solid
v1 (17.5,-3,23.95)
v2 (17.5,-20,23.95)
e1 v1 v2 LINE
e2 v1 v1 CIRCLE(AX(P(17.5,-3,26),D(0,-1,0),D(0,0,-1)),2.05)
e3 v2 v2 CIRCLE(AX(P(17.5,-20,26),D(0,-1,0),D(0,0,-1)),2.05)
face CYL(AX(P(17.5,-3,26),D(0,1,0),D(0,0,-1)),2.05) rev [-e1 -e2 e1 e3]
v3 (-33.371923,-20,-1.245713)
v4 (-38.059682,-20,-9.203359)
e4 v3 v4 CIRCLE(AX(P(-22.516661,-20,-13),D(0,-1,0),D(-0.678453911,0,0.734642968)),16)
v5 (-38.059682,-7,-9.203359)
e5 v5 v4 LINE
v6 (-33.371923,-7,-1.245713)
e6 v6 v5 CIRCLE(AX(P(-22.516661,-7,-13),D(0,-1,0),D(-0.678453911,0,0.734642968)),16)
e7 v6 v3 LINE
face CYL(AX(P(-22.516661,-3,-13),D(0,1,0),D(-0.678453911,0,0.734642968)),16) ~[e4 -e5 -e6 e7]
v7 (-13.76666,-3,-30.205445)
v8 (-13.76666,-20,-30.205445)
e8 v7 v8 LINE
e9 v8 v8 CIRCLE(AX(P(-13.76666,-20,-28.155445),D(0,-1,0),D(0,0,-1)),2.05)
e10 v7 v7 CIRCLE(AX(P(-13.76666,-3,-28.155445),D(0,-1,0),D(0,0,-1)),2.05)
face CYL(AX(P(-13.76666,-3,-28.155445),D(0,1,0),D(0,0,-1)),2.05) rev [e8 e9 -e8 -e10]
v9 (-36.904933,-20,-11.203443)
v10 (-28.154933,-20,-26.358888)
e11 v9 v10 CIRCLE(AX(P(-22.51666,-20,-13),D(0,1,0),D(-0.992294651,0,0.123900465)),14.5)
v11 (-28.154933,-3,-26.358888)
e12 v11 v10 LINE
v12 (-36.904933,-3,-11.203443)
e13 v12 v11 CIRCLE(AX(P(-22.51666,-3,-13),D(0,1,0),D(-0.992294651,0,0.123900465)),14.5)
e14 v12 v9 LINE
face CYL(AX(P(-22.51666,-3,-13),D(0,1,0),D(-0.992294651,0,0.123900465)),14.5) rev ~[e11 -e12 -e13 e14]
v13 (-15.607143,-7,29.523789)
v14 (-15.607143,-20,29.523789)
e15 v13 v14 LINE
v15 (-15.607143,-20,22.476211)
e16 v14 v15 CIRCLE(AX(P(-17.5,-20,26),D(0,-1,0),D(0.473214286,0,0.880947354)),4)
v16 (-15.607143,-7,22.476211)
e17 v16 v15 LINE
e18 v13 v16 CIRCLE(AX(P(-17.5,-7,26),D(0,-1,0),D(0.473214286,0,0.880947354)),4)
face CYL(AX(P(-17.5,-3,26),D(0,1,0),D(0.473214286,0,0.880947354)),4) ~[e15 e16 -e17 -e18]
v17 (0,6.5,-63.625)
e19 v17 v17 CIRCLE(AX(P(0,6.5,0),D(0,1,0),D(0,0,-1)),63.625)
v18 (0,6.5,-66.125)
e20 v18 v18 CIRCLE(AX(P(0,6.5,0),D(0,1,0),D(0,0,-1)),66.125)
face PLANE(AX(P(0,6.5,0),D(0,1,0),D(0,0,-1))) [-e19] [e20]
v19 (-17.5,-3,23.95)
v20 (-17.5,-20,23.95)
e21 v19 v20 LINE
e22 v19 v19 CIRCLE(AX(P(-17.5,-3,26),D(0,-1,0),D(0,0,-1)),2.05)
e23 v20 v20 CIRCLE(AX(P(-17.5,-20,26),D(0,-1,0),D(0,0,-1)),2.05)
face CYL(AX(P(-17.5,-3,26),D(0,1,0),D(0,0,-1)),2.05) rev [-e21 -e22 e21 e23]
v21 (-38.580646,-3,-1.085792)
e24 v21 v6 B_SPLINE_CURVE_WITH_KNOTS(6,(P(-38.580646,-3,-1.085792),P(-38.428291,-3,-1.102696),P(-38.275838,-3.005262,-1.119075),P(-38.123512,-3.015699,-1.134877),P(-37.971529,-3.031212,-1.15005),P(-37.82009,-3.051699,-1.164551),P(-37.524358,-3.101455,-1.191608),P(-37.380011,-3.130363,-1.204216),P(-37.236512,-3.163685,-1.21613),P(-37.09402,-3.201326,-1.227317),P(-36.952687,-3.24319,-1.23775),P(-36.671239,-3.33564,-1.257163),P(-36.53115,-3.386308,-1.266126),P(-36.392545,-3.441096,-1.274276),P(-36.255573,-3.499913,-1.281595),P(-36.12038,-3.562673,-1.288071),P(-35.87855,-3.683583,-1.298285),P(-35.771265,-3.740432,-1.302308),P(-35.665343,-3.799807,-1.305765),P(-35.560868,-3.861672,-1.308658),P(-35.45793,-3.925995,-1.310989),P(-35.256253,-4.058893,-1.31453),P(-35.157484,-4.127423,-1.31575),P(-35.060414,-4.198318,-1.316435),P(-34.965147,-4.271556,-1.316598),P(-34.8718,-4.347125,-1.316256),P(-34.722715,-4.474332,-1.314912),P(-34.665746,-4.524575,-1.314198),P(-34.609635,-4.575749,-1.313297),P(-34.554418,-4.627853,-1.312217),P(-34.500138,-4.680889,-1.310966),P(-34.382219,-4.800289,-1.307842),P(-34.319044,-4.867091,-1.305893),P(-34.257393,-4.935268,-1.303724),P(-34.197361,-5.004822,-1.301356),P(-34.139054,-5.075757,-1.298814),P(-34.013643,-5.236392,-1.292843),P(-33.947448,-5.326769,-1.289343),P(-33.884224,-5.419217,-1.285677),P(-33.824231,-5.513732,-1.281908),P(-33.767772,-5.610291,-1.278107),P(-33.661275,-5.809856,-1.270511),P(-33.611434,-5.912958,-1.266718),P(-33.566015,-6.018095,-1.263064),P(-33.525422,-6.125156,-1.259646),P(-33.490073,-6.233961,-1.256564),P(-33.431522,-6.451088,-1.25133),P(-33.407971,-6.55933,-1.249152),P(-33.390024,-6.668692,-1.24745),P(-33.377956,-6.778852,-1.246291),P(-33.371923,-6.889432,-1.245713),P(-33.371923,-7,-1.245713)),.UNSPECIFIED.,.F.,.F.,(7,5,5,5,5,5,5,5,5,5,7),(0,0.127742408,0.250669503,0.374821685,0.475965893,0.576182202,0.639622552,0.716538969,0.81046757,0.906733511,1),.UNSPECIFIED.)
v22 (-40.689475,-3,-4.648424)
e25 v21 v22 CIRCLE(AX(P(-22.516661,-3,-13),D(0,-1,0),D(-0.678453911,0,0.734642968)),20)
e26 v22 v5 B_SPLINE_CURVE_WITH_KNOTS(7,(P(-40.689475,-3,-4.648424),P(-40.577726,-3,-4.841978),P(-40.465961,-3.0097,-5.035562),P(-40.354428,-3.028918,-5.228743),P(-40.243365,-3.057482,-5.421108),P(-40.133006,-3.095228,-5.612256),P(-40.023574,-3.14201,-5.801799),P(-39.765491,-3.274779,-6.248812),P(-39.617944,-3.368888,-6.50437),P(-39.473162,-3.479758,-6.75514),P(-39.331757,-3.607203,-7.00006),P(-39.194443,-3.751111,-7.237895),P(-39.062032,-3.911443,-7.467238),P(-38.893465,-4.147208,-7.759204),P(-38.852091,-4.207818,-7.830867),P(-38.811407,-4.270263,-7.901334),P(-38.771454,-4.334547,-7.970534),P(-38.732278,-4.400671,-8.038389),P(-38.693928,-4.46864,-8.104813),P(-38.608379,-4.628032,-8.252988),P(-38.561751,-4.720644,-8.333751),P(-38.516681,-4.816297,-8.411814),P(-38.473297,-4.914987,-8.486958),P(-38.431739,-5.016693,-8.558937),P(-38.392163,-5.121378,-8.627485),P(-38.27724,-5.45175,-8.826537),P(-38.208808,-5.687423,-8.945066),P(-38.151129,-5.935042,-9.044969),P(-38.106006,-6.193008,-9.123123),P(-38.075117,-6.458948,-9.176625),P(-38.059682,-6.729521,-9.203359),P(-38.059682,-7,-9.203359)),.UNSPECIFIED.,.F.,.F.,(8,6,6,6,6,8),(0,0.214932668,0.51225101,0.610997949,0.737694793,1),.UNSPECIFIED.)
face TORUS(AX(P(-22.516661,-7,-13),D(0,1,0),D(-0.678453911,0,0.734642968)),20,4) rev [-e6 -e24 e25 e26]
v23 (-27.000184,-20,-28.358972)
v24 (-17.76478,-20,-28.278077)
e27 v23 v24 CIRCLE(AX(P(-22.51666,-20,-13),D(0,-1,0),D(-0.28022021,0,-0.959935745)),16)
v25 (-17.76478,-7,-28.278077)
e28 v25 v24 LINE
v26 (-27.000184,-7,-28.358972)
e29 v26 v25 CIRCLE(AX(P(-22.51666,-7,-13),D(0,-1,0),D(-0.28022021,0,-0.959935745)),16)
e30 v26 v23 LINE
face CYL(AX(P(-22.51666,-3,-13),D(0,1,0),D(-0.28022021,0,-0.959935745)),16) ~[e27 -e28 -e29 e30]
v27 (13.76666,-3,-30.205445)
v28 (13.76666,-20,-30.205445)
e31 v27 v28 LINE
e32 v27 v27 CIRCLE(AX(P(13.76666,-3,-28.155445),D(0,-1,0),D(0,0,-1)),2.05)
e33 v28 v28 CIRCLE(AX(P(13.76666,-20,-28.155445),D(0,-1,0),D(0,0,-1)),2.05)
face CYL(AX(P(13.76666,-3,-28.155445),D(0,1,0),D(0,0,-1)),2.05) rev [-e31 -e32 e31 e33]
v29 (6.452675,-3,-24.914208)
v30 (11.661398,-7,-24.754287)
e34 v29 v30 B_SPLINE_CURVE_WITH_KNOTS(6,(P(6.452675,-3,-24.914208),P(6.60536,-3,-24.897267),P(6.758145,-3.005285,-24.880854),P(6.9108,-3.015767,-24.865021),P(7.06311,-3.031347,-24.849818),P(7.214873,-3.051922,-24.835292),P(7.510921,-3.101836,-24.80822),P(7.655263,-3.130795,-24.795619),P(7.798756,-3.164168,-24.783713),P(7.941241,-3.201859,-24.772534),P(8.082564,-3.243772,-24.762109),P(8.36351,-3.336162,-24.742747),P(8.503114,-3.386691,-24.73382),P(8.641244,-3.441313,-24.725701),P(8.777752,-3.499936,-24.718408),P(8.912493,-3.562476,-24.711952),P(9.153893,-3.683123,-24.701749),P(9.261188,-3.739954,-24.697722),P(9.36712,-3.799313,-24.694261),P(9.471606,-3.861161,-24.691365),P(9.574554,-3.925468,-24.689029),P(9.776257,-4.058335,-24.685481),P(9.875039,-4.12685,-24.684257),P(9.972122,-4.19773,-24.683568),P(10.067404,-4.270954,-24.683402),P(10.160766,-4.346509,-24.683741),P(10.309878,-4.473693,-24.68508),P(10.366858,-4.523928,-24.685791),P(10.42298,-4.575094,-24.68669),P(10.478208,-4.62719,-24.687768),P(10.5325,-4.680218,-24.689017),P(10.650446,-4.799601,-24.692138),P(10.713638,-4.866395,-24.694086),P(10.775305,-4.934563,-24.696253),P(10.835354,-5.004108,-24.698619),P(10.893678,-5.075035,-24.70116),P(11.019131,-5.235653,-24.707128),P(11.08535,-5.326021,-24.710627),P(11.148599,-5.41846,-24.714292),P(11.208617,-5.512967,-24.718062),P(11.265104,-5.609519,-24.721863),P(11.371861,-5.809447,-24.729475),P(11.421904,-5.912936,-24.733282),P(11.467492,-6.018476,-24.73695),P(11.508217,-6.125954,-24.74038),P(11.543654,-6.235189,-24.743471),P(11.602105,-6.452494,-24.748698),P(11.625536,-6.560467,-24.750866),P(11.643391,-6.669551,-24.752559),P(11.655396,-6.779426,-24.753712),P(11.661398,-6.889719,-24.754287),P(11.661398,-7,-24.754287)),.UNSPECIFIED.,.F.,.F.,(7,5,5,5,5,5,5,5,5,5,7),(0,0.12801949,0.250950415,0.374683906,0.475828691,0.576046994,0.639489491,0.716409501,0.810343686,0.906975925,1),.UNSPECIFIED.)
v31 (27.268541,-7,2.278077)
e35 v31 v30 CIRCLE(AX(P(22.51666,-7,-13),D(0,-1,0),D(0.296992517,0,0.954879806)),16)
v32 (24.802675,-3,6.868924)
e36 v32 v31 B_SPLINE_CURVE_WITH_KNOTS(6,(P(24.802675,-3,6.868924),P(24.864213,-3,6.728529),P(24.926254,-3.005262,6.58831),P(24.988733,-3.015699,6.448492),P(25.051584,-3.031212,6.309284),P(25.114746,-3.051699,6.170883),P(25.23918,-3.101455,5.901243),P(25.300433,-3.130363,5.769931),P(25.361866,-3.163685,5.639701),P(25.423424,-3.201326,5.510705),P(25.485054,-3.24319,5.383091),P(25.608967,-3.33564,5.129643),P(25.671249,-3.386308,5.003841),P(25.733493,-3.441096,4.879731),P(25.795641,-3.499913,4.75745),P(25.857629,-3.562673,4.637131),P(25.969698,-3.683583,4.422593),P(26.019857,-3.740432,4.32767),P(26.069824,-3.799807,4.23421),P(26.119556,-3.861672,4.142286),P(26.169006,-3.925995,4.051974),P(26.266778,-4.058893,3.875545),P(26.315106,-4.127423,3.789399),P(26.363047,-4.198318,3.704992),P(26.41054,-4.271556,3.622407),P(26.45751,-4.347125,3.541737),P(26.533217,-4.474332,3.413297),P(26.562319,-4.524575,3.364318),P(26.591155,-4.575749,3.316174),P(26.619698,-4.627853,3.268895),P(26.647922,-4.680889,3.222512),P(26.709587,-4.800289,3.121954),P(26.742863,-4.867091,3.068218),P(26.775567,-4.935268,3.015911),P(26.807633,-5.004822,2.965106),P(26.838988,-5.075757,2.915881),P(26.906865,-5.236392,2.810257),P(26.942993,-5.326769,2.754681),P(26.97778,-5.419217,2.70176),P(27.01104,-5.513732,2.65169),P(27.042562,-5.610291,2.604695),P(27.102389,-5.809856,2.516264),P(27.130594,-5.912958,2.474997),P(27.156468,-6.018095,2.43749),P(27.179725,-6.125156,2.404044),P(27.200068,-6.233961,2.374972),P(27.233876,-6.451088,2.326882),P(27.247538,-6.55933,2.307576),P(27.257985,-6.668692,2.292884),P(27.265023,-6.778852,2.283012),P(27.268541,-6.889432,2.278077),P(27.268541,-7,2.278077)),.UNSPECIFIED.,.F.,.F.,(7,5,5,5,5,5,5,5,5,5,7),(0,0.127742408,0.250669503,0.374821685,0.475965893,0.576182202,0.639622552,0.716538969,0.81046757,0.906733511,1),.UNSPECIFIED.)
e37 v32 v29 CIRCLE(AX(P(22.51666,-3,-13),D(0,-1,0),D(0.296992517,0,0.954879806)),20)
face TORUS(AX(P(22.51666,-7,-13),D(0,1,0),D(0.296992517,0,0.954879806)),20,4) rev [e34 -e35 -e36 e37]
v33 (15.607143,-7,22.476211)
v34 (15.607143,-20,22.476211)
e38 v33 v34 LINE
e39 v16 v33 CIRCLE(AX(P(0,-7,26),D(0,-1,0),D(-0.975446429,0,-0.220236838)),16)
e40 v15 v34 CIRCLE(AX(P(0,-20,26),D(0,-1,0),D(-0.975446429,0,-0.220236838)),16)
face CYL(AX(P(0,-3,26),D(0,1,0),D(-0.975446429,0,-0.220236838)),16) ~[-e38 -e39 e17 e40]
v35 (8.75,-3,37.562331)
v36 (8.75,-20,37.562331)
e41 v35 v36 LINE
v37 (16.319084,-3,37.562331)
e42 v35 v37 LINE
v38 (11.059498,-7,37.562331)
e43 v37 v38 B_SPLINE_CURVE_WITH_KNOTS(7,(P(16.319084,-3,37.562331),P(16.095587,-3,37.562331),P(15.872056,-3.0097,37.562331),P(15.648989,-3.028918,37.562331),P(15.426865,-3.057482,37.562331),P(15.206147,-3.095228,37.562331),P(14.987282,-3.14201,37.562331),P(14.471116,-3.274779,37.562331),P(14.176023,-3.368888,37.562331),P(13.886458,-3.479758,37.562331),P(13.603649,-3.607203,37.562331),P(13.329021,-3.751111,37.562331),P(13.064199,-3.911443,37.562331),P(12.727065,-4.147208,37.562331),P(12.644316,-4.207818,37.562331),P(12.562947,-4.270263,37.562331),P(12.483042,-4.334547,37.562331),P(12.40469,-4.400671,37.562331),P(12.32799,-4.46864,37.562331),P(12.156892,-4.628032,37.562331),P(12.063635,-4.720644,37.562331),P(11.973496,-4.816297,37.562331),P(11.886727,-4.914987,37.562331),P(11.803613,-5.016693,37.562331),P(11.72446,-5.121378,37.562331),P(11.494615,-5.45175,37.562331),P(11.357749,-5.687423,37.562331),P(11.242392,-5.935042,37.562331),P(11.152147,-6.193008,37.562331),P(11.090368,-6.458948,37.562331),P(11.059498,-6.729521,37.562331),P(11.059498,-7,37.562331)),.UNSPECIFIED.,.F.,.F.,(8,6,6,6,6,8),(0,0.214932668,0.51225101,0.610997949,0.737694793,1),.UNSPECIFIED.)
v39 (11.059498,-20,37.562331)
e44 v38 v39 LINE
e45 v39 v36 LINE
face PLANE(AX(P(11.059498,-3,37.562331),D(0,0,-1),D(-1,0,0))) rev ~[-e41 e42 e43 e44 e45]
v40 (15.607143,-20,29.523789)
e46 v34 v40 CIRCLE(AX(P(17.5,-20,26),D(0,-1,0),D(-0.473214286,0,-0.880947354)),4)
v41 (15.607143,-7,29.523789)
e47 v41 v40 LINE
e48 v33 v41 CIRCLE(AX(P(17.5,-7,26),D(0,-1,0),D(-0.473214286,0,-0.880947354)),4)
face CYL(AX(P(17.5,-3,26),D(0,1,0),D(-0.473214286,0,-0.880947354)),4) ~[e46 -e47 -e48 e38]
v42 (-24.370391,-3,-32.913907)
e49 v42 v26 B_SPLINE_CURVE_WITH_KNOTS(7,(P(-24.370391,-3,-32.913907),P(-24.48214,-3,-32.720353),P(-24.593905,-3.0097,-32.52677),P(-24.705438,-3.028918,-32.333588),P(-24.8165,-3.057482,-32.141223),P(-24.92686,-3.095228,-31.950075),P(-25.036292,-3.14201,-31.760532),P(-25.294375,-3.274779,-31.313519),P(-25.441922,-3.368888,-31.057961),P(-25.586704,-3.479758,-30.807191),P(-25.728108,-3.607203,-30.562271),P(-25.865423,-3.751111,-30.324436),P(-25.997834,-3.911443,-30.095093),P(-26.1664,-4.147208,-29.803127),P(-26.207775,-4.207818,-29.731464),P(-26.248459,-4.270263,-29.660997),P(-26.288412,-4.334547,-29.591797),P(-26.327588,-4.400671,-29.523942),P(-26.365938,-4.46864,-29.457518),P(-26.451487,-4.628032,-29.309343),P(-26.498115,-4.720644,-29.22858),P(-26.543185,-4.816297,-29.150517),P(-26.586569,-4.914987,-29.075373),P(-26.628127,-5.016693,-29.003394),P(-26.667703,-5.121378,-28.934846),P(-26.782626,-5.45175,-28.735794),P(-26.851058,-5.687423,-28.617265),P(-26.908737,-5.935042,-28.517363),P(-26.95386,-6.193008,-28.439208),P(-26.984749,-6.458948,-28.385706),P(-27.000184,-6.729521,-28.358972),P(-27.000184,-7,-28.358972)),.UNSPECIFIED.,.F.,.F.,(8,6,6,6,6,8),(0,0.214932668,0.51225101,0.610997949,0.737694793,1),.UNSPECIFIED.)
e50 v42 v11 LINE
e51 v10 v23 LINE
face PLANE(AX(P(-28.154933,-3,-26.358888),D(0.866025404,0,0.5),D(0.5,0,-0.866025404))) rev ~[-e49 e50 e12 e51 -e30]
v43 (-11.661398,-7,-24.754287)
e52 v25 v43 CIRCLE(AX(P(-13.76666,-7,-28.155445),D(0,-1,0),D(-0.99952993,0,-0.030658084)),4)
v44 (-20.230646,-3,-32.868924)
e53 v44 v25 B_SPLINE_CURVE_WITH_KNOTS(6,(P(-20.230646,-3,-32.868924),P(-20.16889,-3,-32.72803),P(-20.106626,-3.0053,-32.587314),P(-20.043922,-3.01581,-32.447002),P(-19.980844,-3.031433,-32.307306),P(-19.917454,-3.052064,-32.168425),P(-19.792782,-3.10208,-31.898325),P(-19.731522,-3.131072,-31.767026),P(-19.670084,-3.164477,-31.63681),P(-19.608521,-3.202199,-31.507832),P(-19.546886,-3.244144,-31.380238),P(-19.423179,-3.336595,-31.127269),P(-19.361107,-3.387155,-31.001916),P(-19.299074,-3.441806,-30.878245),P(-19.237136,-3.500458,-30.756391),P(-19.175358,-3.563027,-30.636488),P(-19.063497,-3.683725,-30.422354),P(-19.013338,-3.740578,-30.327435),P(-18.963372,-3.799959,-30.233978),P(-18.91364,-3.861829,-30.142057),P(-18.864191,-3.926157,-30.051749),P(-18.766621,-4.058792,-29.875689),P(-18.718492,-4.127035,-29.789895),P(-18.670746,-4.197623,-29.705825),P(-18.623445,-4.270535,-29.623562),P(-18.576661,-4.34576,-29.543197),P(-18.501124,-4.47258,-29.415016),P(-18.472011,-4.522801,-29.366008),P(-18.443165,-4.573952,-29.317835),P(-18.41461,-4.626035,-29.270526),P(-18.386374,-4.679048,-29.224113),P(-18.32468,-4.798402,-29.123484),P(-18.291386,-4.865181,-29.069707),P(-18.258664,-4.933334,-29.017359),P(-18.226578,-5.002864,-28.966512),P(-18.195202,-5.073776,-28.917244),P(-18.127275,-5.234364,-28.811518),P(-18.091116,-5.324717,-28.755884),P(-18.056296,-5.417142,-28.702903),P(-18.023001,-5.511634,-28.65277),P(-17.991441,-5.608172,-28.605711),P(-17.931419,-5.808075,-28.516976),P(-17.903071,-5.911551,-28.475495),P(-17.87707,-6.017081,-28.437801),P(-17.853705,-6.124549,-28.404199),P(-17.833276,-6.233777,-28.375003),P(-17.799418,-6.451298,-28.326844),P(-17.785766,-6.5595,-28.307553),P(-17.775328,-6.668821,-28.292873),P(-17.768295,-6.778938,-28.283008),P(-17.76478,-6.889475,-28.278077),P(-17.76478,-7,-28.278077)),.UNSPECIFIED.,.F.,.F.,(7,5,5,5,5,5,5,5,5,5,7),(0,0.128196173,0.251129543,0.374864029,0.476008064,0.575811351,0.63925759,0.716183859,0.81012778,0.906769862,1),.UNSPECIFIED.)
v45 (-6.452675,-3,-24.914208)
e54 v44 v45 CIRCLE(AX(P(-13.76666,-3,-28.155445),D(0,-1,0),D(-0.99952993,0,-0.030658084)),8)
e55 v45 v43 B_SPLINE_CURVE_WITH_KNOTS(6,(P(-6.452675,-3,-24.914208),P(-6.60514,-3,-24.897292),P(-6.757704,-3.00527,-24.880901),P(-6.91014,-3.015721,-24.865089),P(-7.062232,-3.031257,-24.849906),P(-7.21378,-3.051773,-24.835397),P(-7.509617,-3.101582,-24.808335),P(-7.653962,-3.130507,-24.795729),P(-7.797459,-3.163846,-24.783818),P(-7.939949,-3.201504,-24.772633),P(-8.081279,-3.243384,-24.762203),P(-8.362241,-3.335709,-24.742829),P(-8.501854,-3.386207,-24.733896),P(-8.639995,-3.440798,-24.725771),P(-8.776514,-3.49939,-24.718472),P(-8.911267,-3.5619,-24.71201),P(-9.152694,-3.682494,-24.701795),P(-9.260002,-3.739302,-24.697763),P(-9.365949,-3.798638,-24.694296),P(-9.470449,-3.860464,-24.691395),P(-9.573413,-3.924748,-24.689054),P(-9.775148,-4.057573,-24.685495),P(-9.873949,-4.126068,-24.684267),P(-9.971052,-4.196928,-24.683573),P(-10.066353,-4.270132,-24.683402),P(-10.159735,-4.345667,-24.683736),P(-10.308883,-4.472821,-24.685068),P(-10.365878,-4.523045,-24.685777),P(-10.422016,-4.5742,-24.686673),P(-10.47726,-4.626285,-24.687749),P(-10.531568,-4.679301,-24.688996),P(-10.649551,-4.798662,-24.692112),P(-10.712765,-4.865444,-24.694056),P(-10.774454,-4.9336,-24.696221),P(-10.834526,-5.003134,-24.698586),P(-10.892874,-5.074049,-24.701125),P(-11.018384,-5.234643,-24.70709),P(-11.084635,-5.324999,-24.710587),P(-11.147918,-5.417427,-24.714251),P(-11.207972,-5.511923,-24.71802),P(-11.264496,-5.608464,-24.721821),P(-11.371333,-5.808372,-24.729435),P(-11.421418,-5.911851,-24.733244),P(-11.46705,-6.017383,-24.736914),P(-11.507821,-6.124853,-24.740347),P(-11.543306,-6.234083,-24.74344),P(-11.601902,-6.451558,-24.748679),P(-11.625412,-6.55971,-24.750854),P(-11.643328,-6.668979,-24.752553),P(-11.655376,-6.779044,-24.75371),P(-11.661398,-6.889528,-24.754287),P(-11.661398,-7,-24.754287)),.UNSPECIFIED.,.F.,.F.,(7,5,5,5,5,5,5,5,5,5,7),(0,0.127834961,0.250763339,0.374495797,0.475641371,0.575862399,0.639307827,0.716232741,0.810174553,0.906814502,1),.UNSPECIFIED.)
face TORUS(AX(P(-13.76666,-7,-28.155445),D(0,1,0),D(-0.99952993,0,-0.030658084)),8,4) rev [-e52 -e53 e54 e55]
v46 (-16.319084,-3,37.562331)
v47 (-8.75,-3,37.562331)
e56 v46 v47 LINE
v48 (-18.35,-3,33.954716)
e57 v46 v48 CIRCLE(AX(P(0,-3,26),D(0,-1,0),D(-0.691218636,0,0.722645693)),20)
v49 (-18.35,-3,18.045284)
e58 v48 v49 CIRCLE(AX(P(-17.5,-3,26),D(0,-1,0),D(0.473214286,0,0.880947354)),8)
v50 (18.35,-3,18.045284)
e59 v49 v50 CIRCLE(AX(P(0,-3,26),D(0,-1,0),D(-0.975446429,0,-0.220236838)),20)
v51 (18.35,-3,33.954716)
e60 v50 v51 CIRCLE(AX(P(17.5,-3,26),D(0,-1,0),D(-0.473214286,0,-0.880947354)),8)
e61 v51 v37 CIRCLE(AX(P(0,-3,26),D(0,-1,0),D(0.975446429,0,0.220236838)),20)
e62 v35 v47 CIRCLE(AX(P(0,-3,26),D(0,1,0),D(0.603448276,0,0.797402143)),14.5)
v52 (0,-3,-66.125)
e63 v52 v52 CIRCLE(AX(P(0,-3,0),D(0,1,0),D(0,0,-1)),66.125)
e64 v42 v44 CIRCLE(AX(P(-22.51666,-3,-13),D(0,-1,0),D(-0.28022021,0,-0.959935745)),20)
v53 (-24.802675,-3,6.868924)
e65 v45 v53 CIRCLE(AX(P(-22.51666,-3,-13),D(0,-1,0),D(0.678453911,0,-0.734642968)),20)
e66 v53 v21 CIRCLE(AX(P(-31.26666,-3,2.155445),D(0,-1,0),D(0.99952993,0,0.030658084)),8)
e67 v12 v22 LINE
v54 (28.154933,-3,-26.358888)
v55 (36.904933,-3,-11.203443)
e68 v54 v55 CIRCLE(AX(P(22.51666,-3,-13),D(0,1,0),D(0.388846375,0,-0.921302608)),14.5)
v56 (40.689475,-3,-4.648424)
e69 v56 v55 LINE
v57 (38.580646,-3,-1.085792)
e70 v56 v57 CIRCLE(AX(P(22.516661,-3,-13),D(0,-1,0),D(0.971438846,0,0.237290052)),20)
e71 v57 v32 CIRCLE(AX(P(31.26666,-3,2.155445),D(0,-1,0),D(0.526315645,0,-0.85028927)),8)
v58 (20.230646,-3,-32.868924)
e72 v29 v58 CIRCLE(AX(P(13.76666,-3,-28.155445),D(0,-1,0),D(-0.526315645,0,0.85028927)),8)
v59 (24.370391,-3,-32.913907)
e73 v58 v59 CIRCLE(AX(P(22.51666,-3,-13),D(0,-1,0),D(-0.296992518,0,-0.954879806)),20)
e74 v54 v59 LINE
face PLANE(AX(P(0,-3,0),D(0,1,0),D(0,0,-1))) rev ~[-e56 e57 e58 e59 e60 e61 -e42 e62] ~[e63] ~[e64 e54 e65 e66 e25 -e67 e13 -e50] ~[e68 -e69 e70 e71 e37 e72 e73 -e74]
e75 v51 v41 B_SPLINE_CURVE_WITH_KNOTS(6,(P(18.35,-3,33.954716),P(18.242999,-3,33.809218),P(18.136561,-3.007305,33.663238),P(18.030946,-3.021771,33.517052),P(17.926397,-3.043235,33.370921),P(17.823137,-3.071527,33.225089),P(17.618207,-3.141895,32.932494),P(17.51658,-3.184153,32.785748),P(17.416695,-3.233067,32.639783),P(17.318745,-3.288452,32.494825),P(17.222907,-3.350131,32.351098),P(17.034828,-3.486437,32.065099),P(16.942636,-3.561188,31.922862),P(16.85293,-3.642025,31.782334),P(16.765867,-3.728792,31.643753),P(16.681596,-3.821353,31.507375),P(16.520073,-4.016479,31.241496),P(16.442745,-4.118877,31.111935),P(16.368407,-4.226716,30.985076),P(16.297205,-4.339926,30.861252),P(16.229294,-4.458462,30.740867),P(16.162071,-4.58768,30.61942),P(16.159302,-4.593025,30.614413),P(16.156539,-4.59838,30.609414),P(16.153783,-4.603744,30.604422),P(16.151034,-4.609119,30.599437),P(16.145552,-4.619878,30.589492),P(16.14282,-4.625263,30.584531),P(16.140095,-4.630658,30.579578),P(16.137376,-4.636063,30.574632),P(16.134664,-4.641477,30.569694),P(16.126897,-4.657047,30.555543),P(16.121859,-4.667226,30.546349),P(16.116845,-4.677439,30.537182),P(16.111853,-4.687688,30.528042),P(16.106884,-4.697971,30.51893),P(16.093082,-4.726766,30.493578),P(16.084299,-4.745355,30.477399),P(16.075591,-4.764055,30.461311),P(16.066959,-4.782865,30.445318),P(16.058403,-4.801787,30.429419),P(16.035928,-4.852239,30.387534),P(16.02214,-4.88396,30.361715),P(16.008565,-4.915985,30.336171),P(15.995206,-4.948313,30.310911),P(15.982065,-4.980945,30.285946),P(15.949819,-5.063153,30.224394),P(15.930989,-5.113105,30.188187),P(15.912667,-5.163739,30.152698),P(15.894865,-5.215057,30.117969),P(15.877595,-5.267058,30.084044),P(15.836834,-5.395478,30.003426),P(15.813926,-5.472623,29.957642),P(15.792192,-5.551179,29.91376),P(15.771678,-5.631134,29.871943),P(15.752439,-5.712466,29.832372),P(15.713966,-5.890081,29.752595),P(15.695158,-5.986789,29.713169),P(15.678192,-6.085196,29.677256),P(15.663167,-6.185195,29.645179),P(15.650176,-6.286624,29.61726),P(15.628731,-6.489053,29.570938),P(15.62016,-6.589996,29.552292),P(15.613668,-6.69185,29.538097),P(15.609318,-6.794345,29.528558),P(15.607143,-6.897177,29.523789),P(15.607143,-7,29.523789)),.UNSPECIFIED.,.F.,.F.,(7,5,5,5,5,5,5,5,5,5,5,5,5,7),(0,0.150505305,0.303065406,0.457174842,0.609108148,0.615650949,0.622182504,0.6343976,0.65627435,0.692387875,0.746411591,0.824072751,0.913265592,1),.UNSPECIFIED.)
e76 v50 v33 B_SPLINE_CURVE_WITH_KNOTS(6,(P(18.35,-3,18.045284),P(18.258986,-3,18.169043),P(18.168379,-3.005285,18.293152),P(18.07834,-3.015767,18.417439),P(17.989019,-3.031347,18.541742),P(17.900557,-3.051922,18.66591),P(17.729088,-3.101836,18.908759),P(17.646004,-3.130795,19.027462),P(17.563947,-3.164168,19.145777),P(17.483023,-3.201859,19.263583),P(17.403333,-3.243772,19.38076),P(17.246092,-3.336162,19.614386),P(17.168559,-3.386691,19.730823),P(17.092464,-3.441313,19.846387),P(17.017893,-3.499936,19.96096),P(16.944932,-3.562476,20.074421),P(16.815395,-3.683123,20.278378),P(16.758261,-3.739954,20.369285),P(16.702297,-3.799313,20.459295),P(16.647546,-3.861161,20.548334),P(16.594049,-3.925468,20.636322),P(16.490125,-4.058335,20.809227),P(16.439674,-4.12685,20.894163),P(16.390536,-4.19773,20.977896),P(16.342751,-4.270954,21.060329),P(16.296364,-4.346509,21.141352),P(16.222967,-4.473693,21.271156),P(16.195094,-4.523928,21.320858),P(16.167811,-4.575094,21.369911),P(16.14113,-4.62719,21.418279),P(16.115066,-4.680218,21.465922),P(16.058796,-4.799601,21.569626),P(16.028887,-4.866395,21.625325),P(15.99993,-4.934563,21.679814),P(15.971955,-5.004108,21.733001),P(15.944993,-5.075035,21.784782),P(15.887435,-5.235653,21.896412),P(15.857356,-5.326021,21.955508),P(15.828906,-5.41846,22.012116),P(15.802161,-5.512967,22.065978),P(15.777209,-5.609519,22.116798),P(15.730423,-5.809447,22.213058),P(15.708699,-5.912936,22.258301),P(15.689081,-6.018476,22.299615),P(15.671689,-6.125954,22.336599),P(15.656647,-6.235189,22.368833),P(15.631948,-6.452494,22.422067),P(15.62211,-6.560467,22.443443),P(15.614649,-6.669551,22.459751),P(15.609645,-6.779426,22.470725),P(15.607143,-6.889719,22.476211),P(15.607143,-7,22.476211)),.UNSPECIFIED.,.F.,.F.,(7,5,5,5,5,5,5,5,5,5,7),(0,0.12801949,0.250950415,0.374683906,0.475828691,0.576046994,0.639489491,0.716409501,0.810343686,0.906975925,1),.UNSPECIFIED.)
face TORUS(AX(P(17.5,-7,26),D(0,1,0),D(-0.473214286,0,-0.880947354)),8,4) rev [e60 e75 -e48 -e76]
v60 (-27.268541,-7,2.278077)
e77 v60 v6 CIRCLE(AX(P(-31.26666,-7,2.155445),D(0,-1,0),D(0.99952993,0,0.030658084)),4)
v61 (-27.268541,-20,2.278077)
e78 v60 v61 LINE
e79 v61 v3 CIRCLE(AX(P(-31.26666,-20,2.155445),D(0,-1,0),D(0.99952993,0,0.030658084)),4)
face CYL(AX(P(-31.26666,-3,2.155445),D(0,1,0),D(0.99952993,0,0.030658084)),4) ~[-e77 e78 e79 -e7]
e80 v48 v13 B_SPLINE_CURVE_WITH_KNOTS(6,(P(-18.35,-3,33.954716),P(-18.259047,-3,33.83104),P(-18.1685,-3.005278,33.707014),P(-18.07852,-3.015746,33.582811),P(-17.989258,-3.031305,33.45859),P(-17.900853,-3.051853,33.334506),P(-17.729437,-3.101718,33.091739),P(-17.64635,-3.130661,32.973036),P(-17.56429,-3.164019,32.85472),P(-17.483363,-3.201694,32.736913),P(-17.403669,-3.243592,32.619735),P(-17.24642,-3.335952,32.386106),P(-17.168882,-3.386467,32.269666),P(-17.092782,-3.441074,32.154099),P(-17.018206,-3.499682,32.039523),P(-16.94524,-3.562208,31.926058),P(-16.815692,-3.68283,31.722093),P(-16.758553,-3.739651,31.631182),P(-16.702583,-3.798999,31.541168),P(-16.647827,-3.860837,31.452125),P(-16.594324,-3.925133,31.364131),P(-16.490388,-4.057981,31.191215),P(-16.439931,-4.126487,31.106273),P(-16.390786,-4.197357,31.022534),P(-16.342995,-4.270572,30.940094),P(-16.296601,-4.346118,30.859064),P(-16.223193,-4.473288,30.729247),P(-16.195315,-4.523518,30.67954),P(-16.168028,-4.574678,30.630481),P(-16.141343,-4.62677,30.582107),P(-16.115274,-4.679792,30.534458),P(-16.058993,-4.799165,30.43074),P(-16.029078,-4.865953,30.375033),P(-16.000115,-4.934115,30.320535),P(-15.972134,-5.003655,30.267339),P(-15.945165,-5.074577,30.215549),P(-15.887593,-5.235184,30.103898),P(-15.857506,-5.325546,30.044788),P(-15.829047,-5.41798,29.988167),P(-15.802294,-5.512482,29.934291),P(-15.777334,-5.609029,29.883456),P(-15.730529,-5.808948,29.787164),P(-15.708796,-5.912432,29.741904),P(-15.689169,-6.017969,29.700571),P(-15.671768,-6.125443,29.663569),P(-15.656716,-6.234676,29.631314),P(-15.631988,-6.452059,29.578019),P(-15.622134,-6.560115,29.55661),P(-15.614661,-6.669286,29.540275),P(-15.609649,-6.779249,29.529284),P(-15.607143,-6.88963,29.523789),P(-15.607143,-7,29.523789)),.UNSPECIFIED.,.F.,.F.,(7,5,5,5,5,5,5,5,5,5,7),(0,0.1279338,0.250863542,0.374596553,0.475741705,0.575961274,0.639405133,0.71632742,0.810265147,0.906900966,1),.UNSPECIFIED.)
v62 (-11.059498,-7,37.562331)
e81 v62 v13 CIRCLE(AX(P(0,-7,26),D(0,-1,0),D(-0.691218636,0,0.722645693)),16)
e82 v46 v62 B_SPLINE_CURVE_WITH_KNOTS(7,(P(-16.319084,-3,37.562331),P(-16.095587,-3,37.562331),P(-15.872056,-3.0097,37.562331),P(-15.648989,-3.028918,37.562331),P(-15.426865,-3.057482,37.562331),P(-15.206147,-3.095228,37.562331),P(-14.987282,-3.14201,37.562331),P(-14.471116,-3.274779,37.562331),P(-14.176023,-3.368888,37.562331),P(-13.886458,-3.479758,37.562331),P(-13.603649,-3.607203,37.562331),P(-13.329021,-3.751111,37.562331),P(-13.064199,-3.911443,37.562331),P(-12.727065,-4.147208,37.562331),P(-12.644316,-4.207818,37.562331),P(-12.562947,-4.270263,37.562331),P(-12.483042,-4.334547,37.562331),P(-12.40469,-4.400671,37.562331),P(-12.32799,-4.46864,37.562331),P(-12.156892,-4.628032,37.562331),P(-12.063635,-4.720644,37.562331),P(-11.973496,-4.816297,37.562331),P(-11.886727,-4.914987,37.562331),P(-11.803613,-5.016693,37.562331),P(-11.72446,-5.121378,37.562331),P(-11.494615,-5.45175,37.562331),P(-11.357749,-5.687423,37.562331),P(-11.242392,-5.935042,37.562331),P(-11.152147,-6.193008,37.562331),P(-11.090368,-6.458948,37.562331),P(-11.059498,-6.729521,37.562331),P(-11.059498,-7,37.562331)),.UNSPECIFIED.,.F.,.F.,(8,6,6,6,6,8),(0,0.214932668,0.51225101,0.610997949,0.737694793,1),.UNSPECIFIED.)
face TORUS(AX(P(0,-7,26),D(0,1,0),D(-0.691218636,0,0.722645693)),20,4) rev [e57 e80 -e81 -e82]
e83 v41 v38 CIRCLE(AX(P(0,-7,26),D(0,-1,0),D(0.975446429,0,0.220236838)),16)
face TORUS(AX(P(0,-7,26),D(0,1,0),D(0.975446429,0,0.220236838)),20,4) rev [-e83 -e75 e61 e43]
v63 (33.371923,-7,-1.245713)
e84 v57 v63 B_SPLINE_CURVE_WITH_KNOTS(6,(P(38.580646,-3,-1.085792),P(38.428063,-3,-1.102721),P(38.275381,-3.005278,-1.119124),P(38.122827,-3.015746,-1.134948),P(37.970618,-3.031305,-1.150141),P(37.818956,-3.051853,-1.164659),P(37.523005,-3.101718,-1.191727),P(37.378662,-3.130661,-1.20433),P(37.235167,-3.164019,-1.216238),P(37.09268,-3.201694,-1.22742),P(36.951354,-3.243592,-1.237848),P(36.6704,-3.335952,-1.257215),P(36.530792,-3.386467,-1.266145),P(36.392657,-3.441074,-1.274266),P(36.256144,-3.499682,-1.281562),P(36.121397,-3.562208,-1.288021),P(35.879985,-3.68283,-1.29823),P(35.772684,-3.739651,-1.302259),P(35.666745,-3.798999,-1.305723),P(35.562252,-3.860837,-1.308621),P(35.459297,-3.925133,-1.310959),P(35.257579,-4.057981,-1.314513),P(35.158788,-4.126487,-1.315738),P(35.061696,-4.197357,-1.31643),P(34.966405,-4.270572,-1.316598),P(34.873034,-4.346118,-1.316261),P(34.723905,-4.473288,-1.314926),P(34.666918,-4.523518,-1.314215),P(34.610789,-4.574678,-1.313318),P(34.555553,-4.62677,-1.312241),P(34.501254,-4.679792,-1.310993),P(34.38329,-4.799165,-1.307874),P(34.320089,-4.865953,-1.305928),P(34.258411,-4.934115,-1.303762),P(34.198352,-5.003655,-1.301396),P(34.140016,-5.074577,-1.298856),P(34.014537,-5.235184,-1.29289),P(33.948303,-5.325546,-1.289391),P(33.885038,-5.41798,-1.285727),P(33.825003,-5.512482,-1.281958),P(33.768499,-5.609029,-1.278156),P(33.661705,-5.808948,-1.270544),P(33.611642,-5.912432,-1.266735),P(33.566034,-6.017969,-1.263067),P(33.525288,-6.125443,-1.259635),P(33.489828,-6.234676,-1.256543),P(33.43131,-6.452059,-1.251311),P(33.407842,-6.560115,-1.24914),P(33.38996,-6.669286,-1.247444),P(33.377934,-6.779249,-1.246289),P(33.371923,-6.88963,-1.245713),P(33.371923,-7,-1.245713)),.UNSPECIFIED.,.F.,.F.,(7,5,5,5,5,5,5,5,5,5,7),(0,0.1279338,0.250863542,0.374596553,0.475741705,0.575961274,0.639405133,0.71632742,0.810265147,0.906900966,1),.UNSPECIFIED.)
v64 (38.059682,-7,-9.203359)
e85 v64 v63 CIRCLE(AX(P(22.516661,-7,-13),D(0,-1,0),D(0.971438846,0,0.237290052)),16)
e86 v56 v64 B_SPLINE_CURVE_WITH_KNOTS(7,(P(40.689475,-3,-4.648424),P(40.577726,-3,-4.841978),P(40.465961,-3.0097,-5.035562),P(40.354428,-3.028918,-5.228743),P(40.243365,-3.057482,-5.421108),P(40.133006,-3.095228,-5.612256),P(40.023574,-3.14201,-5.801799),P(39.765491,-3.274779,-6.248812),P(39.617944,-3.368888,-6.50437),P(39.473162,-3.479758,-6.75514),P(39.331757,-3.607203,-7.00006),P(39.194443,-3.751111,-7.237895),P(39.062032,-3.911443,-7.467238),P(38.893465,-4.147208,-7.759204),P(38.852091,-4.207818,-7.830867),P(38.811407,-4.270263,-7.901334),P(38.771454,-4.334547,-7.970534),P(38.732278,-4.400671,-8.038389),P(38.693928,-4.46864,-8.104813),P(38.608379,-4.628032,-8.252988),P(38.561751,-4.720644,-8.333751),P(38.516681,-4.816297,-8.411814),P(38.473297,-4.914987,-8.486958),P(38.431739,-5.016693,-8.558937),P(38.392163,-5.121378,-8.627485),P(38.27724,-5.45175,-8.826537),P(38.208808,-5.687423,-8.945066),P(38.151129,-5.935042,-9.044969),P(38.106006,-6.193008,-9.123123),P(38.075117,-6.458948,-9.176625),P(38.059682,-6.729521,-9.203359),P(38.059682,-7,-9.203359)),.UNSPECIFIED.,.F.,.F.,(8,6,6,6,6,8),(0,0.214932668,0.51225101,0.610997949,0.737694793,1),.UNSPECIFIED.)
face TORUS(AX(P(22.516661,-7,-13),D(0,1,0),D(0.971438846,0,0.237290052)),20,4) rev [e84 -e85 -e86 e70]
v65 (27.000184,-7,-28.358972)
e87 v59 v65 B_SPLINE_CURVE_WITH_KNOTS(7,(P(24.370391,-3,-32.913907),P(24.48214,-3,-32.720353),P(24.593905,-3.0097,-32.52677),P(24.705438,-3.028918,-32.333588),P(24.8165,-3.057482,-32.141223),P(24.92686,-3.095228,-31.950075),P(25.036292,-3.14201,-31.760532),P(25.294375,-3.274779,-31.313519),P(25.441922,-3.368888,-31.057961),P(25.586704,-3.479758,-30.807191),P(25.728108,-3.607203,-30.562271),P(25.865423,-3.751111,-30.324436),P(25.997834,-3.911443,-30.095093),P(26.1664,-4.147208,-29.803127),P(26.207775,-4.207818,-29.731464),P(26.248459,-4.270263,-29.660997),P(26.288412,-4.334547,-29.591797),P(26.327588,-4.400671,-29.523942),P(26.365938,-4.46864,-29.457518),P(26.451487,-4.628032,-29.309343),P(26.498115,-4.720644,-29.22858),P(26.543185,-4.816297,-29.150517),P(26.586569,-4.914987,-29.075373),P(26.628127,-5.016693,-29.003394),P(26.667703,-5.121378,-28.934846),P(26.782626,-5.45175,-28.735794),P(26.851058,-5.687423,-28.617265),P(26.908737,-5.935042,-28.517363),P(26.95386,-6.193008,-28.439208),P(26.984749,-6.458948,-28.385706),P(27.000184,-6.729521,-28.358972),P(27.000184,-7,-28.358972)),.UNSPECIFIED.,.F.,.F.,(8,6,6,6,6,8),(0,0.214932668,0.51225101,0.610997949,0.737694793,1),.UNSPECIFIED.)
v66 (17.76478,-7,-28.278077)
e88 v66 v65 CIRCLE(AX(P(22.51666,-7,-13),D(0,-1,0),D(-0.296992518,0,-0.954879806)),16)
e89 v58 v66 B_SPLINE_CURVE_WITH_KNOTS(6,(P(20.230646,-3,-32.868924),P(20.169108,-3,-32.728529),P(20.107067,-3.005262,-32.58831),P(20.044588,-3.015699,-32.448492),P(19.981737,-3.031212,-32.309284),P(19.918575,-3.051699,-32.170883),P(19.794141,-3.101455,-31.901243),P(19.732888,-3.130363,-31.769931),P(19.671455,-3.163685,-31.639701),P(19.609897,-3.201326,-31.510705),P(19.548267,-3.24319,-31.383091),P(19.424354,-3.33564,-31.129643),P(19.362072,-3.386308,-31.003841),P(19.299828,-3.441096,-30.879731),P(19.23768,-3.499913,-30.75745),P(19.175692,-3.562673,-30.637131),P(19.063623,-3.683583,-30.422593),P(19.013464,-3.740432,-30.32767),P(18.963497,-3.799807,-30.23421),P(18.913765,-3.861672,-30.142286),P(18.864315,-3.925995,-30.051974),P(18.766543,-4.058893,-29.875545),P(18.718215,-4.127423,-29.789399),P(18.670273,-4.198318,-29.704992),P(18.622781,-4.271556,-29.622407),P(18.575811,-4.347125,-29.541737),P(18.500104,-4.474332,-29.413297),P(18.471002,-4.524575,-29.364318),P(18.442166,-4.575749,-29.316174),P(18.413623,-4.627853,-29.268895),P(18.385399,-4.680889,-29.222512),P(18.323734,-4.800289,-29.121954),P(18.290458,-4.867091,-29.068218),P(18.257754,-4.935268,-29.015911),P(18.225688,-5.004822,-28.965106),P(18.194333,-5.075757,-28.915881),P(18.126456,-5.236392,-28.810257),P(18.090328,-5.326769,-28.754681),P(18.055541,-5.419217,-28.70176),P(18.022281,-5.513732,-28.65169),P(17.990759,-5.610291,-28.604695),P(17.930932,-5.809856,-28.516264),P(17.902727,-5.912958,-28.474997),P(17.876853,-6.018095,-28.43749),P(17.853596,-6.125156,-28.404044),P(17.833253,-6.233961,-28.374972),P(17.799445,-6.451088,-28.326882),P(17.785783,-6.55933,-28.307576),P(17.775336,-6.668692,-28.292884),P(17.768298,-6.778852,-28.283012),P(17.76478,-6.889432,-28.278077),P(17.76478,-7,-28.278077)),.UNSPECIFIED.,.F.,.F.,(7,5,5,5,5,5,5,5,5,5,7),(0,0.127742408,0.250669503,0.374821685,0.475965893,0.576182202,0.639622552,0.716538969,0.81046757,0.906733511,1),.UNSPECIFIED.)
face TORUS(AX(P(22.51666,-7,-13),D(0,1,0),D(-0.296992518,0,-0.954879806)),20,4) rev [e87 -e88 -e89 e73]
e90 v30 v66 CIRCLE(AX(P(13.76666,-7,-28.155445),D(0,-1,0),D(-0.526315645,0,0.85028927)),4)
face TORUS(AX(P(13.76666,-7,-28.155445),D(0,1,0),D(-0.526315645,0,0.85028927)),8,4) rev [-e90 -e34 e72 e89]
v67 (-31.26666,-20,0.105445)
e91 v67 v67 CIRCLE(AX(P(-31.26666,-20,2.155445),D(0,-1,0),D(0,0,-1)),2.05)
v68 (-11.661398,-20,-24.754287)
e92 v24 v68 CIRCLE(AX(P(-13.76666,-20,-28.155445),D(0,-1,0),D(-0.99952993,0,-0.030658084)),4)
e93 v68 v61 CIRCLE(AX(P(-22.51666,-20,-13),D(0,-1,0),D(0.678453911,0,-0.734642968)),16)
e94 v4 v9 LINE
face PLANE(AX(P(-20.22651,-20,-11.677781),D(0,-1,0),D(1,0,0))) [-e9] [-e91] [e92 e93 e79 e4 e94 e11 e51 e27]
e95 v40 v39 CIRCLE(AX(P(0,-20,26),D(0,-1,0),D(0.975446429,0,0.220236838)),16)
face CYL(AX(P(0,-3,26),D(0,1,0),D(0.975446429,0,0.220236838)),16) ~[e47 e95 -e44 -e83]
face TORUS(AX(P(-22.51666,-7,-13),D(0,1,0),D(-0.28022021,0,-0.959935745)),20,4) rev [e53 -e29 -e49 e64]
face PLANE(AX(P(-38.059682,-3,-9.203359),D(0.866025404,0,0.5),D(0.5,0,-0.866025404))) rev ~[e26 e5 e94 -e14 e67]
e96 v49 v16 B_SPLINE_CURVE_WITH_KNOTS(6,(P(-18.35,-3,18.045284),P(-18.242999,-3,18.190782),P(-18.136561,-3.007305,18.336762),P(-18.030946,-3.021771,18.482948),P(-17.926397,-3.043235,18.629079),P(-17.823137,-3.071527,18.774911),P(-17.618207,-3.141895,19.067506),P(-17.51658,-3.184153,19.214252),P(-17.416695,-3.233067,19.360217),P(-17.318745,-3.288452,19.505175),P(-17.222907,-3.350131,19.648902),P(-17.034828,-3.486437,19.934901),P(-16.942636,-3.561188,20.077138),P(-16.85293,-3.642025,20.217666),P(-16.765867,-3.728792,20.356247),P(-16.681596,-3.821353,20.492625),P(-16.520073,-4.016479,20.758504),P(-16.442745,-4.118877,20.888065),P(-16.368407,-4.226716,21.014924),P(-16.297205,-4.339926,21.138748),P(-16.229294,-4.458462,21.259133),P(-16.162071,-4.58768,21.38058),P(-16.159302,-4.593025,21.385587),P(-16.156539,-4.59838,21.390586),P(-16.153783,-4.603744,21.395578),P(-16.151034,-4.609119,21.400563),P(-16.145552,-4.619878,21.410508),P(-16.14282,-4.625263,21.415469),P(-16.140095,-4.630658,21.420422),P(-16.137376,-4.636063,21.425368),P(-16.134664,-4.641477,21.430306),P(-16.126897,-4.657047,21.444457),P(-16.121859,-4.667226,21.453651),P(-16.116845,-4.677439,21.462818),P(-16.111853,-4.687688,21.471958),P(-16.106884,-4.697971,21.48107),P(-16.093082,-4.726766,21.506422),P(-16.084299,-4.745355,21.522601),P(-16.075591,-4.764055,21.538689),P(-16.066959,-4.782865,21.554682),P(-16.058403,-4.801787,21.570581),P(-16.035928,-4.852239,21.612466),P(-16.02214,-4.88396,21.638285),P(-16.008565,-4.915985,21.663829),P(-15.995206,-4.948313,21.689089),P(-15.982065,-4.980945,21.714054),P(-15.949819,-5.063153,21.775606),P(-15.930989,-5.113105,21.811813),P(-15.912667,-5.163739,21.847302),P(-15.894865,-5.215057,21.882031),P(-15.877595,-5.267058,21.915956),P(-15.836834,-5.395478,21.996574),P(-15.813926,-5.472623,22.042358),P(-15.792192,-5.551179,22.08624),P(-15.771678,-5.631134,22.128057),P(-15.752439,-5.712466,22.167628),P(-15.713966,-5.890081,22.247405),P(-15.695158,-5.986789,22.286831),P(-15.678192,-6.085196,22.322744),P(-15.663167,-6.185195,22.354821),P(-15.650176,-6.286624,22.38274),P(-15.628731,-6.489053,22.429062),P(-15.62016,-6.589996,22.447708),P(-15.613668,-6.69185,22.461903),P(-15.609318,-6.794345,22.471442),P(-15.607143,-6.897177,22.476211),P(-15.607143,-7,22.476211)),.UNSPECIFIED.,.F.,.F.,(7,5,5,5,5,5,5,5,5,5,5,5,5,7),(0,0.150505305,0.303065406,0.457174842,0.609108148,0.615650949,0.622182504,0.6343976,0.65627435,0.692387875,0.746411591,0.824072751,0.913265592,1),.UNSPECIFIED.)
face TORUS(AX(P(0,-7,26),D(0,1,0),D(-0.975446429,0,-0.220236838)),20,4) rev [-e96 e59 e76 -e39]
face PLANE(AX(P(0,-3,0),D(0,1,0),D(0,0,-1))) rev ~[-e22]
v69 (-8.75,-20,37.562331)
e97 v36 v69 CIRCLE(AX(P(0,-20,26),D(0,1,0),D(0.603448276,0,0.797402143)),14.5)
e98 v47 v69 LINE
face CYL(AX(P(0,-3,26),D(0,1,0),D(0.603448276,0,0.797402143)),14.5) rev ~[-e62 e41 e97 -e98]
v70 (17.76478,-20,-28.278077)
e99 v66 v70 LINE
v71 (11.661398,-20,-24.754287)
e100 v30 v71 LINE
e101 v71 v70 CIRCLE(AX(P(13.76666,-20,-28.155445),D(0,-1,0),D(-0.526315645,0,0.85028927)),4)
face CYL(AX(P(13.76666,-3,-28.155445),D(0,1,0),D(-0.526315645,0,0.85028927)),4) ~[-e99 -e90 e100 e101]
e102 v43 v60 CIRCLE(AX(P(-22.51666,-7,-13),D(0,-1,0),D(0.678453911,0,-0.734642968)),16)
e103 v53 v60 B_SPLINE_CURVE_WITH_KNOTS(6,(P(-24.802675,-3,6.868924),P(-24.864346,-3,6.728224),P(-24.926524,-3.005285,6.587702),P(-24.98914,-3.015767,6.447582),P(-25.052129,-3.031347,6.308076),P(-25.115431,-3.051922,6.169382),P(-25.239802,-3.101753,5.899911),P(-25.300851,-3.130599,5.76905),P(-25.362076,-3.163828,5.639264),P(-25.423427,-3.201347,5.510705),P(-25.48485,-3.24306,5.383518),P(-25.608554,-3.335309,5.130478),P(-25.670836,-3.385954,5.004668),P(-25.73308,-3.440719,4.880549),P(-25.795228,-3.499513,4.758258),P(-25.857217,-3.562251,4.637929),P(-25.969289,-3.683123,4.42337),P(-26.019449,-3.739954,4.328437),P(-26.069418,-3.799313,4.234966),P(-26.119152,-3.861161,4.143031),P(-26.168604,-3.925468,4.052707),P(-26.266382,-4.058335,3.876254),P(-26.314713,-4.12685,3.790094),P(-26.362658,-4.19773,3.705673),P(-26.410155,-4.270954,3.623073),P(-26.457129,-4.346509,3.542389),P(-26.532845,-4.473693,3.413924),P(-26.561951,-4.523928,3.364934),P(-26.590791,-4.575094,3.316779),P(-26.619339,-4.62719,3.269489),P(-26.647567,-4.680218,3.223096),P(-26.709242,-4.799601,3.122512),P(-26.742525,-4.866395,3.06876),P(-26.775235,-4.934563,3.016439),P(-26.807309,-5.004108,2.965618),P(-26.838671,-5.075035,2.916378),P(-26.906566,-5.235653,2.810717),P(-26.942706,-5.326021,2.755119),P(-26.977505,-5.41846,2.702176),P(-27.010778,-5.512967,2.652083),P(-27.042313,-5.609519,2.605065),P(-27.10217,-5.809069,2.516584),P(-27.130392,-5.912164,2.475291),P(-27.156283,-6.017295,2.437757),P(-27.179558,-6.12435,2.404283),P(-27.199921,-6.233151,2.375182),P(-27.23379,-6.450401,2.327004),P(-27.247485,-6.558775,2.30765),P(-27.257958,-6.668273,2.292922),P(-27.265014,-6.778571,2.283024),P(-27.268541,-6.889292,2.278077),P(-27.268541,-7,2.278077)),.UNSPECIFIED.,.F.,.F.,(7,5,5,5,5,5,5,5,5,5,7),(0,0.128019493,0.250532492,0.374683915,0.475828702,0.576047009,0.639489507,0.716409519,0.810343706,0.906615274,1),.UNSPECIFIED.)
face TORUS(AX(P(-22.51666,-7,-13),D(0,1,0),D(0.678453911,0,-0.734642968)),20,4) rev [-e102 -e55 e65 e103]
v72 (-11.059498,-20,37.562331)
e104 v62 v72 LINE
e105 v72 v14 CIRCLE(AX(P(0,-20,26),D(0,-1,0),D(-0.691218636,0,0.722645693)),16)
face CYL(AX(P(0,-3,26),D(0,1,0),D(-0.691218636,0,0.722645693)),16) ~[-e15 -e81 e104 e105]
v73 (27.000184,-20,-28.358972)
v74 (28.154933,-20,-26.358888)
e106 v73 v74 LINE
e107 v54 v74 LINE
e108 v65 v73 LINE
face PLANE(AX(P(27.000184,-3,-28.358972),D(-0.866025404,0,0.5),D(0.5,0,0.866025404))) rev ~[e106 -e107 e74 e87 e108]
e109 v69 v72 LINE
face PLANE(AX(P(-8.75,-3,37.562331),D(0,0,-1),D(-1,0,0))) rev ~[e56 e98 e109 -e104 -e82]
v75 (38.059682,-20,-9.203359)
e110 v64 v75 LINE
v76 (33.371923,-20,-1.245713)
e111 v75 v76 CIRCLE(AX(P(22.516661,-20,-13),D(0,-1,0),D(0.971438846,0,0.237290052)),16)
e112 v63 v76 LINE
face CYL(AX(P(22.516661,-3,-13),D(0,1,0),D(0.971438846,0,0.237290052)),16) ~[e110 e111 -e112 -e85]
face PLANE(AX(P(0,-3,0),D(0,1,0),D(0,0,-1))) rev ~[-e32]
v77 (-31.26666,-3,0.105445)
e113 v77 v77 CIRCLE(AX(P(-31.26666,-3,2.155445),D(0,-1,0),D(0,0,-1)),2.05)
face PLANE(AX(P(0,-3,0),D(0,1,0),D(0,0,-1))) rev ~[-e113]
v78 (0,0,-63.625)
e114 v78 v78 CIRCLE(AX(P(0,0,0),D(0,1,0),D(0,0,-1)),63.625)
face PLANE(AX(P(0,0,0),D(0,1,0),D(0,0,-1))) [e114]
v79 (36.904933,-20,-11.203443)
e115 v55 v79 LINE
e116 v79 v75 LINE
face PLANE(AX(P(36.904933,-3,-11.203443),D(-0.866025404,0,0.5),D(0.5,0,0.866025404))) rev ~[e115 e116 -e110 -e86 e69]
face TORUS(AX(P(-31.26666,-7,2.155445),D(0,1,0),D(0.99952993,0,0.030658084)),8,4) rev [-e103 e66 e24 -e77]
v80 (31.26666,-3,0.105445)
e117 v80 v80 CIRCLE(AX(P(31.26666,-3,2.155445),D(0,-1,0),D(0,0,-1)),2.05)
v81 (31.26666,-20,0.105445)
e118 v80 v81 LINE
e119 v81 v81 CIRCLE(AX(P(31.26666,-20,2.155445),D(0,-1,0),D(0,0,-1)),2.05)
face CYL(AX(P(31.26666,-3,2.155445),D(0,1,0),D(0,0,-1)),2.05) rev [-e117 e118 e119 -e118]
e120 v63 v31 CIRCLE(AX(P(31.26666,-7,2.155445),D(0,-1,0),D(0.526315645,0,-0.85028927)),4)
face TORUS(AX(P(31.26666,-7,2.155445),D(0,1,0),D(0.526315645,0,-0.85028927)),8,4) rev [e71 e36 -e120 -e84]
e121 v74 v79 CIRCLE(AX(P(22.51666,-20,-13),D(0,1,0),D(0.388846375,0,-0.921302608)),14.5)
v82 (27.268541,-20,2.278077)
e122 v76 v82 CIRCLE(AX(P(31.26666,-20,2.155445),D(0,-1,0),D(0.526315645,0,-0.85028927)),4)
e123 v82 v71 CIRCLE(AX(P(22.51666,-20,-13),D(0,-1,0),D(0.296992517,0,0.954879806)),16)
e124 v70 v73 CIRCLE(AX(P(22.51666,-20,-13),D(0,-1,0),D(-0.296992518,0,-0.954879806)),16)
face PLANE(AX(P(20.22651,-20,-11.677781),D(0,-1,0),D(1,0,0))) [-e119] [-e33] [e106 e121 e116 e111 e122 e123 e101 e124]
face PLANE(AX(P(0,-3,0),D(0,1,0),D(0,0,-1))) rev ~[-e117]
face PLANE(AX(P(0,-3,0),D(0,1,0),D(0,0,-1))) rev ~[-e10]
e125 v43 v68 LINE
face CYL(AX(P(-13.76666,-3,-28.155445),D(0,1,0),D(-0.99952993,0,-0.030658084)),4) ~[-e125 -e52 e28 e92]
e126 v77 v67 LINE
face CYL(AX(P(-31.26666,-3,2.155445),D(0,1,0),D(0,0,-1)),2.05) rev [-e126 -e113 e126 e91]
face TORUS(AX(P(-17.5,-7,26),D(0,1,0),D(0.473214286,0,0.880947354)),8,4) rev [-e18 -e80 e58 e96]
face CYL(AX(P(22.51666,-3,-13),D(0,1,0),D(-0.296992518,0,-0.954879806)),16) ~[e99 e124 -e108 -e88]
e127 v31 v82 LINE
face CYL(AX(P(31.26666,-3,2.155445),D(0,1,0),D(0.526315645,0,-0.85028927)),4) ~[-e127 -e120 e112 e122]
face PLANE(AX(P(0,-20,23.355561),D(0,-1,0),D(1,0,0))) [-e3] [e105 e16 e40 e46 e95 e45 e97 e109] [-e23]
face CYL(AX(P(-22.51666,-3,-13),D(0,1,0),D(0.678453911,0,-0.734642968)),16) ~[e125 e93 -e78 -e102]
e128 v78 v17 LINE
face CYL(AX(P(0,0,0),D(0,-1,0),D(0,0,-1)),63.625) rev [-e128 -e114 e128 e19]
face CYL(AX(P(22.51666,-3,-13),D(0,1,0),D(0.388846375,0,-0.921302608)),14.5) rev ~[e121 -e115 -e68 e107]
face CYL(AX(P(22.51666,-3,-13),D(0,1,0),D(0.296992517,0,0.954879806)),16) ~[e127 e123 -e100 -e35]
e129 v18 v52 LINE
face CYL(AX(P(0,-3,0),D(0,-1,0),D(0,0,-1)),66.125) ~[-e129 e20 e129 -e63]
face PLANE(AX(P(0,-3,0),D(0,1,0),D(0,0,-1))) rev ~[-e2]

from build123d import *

# Parameters (mm, degrees)
SKETCH1_R           = 66.125
SKETCH1_R_2         = 63.625
BOSS_EXTRUDE1_DEPTH = 6.5
BOSS_EXTRUDE2_START = -3
SKETCH1_2_R         = 66.125
BOSS_EXTRUDE2_DEPTH = 3
SKETCH2_R           = 2.05
BOSS_EXTRUDE3_DEPTH = 17
FILLET2_R           = 4


with BuildPart() as part:
    # Sketch1 → Boss-Extrude1 (new body)
    with BuildSketch(Plane(origin=(0, 0, 0), x_dir=(1, 0, 0), z_dir=(0, 1, 0))):
        Circle(SKETCH1_R)
        Circle(SKETCH1_R_2, mode=Mode.SUBTRACT)
    extrude(amount=BOSS_EXTRUDE1_DEPTH)

    # Sketch1<2> → Boss-Extrude2 (add)
    with BuildSketch(Plane(origin=(0, 0, 0), x_dir=(1, 0, 0), z_dir=(0, 1, 0)).offset(BOSS_EXTRUDE2_START)):
        Circle(SKETCH1_2_R)
    extrude(amount=BOSS_EXTRUDE2_DEPTH)

    # Sketch2 → Boss-Extrude3 (add)
    # profile 1 of 3: a face of its own
    with BuildSketch(Plane.XZ.offset(3)):
        with BuildLine():
            Line((-8.75, 37.56233108), (-11.05949818, 37.56233108))
            ThreePointArc((-11.05949818, 37.56233108), (-13.925946075, 33.87832634), (-15.607142857, 29.523789414))
            ThreePointArc((-15.607142857, 29.523789414), (-21.5, 26), (-15.607142857, 22.476210586))
            ThreePointArc((-15.607142857, 22.476210586), (0, 10), (15.607142857, 22.476210586))
            ThreePointArc((15.607142857, 22.476210586), (21.5, 26), (15.607142857, 29.523789414))
            ThreePointArc((15.607142857, 29.523789414), (13.925946075, 33.87832634), (11.05949818, 37.56233108))
            Line((11.05949818, 37.56233108), (8.75, 37.56233108))
            ThreePointArc((8.75, 37.56233108), (0, 11.5), (-8.75, 37.56233108))
        make_face()
        with Locations((-17.5, 26)):
            Circle(SKETCH2_R, mode=Mode.SUBTRACT)
        with Locations((17.5, 26)):
            Circle(SKETCH2_R, mode=Mode.SUBTRACT)
    # profile 2 of 3: a face of its own
    with BuildSketch(Plane.XZ.offset(3)):
        with BuildLine():
            Line((36.904932941, -11.203443257), (38.059682031, -9.203359163))
            ThreePointArc((38.059682031, -9.203359163), (36.302464286, -4.878940097), (33.371923077, -1.245712512))
            ThreePointArc((33.371923077, -1.245712512), (33.266660498, 5.619546181), (27.268540777, 2.278076902))
            ThreePointArc((27.268540777, 2.278076902), (8.660254038, -5), (11.661397919, -24.754287488))
            ThreePointArc((11.661397919, -24.754287488), (11.766660498, -31.619546181), (17.76478022, -28.278076902))
            ThreePointArc((17.76478022, -28.278076902), (22.376518211, -28.999386243), (27.00018385, -28.358971917))
            Line((27.00018385, -28.358971917), (28.154932941, -26.358887823))
            ThreePointArc((28.154932941, -26.358887823), (9.959292144, -5.75), (36.904932941, -11.203443257))
        make_face()
        with Locations((31.266660498, 2.155444566)):
            Circle(SKETCH2_R, mode=Mode.SUBTRACT)
        with Locations((13.766660498, -28.155444566)):
            Circle(SKETCH2_R, mode=Mode.SUBTRACT)
    # profile 3 of 3: a face of its own
    with BuildSketch(Plane.XZ.offset(3)):
        with BuildLine():
            Line((-28.154932941, -26.358887823), (-27.00018385, -28.358971917))
            ThreePointArc((-27.00018385, -28.358971917), (-22.376518211, -28.999386243), (-17.76478022, -28.278076902))
            ThreePointArc((-17.76478022, -28.278076902), (-11.766660498, -31.619546181), (-11.661397919, -24.754287488))
            ThreePointArc((-11.661397919, -24.754287488), (-8.660254038, -5), (-27.268540777, 2.278076902))
            ThreePointArc((-27.268540777, 2.278076902), (-33.266660498, 5.619546181), (-33.371923077, -1.245712512))
            ThreePointArc((-33.371923077, -1.245712512), (-36.302464286, -4.878940097), (-38.059682031, -9.203359163))
            Line((-38.059682031, -9.203359163), (-36.904932941, -11.203443257))
            ThreePointArc((-36.904932941, -11.203443257), (-9.959292144, -5.75), (-28.154932941, -26.358887823))
        make_face()
        with Locations((-13.766660498, -28.155444566)):
            Circle(SKETCH2_R, mode=Mode.SUBTRACT)
        with Locations((-31.266660498, 2.155444566)):
            Circle(SKETCH2_R, mode=Mode.SUBTRACT)
    extrude(amount=BOSS_EXTRUDE3_DEPTH)

    # Fillet2
    fillet2_edges = [part.edges().sort_by_distance(p)[0] for p in [
        (-13.925946075, -3, 33.87832634),
        (-21.5, -3, 26),
        (0, -3, 10),
        (13.925946075, -3, 33.87832634),
        (21.5, -3, 26),
        (36.302464286, -3, -4.878940097),
        (33.266660498, -3, 5.619546181),
        (8.660254038, -3, -5),
        (11.766660498, -3, -31.619546181),
        (22.376518211, -3, -28.999386243),
        (-36.302464286, -3, -4.878940097),
        (-33.266660498, -3, 5.619546181),
        (-22.376518211, -3, -28.999386243),
        (-11.766660498, -3, -31.619546181),
        (-8.660254038, -3, -5),
    ]]
    fillet(fillet2_edges, radius=FILLET2_R)


solid = part.part
